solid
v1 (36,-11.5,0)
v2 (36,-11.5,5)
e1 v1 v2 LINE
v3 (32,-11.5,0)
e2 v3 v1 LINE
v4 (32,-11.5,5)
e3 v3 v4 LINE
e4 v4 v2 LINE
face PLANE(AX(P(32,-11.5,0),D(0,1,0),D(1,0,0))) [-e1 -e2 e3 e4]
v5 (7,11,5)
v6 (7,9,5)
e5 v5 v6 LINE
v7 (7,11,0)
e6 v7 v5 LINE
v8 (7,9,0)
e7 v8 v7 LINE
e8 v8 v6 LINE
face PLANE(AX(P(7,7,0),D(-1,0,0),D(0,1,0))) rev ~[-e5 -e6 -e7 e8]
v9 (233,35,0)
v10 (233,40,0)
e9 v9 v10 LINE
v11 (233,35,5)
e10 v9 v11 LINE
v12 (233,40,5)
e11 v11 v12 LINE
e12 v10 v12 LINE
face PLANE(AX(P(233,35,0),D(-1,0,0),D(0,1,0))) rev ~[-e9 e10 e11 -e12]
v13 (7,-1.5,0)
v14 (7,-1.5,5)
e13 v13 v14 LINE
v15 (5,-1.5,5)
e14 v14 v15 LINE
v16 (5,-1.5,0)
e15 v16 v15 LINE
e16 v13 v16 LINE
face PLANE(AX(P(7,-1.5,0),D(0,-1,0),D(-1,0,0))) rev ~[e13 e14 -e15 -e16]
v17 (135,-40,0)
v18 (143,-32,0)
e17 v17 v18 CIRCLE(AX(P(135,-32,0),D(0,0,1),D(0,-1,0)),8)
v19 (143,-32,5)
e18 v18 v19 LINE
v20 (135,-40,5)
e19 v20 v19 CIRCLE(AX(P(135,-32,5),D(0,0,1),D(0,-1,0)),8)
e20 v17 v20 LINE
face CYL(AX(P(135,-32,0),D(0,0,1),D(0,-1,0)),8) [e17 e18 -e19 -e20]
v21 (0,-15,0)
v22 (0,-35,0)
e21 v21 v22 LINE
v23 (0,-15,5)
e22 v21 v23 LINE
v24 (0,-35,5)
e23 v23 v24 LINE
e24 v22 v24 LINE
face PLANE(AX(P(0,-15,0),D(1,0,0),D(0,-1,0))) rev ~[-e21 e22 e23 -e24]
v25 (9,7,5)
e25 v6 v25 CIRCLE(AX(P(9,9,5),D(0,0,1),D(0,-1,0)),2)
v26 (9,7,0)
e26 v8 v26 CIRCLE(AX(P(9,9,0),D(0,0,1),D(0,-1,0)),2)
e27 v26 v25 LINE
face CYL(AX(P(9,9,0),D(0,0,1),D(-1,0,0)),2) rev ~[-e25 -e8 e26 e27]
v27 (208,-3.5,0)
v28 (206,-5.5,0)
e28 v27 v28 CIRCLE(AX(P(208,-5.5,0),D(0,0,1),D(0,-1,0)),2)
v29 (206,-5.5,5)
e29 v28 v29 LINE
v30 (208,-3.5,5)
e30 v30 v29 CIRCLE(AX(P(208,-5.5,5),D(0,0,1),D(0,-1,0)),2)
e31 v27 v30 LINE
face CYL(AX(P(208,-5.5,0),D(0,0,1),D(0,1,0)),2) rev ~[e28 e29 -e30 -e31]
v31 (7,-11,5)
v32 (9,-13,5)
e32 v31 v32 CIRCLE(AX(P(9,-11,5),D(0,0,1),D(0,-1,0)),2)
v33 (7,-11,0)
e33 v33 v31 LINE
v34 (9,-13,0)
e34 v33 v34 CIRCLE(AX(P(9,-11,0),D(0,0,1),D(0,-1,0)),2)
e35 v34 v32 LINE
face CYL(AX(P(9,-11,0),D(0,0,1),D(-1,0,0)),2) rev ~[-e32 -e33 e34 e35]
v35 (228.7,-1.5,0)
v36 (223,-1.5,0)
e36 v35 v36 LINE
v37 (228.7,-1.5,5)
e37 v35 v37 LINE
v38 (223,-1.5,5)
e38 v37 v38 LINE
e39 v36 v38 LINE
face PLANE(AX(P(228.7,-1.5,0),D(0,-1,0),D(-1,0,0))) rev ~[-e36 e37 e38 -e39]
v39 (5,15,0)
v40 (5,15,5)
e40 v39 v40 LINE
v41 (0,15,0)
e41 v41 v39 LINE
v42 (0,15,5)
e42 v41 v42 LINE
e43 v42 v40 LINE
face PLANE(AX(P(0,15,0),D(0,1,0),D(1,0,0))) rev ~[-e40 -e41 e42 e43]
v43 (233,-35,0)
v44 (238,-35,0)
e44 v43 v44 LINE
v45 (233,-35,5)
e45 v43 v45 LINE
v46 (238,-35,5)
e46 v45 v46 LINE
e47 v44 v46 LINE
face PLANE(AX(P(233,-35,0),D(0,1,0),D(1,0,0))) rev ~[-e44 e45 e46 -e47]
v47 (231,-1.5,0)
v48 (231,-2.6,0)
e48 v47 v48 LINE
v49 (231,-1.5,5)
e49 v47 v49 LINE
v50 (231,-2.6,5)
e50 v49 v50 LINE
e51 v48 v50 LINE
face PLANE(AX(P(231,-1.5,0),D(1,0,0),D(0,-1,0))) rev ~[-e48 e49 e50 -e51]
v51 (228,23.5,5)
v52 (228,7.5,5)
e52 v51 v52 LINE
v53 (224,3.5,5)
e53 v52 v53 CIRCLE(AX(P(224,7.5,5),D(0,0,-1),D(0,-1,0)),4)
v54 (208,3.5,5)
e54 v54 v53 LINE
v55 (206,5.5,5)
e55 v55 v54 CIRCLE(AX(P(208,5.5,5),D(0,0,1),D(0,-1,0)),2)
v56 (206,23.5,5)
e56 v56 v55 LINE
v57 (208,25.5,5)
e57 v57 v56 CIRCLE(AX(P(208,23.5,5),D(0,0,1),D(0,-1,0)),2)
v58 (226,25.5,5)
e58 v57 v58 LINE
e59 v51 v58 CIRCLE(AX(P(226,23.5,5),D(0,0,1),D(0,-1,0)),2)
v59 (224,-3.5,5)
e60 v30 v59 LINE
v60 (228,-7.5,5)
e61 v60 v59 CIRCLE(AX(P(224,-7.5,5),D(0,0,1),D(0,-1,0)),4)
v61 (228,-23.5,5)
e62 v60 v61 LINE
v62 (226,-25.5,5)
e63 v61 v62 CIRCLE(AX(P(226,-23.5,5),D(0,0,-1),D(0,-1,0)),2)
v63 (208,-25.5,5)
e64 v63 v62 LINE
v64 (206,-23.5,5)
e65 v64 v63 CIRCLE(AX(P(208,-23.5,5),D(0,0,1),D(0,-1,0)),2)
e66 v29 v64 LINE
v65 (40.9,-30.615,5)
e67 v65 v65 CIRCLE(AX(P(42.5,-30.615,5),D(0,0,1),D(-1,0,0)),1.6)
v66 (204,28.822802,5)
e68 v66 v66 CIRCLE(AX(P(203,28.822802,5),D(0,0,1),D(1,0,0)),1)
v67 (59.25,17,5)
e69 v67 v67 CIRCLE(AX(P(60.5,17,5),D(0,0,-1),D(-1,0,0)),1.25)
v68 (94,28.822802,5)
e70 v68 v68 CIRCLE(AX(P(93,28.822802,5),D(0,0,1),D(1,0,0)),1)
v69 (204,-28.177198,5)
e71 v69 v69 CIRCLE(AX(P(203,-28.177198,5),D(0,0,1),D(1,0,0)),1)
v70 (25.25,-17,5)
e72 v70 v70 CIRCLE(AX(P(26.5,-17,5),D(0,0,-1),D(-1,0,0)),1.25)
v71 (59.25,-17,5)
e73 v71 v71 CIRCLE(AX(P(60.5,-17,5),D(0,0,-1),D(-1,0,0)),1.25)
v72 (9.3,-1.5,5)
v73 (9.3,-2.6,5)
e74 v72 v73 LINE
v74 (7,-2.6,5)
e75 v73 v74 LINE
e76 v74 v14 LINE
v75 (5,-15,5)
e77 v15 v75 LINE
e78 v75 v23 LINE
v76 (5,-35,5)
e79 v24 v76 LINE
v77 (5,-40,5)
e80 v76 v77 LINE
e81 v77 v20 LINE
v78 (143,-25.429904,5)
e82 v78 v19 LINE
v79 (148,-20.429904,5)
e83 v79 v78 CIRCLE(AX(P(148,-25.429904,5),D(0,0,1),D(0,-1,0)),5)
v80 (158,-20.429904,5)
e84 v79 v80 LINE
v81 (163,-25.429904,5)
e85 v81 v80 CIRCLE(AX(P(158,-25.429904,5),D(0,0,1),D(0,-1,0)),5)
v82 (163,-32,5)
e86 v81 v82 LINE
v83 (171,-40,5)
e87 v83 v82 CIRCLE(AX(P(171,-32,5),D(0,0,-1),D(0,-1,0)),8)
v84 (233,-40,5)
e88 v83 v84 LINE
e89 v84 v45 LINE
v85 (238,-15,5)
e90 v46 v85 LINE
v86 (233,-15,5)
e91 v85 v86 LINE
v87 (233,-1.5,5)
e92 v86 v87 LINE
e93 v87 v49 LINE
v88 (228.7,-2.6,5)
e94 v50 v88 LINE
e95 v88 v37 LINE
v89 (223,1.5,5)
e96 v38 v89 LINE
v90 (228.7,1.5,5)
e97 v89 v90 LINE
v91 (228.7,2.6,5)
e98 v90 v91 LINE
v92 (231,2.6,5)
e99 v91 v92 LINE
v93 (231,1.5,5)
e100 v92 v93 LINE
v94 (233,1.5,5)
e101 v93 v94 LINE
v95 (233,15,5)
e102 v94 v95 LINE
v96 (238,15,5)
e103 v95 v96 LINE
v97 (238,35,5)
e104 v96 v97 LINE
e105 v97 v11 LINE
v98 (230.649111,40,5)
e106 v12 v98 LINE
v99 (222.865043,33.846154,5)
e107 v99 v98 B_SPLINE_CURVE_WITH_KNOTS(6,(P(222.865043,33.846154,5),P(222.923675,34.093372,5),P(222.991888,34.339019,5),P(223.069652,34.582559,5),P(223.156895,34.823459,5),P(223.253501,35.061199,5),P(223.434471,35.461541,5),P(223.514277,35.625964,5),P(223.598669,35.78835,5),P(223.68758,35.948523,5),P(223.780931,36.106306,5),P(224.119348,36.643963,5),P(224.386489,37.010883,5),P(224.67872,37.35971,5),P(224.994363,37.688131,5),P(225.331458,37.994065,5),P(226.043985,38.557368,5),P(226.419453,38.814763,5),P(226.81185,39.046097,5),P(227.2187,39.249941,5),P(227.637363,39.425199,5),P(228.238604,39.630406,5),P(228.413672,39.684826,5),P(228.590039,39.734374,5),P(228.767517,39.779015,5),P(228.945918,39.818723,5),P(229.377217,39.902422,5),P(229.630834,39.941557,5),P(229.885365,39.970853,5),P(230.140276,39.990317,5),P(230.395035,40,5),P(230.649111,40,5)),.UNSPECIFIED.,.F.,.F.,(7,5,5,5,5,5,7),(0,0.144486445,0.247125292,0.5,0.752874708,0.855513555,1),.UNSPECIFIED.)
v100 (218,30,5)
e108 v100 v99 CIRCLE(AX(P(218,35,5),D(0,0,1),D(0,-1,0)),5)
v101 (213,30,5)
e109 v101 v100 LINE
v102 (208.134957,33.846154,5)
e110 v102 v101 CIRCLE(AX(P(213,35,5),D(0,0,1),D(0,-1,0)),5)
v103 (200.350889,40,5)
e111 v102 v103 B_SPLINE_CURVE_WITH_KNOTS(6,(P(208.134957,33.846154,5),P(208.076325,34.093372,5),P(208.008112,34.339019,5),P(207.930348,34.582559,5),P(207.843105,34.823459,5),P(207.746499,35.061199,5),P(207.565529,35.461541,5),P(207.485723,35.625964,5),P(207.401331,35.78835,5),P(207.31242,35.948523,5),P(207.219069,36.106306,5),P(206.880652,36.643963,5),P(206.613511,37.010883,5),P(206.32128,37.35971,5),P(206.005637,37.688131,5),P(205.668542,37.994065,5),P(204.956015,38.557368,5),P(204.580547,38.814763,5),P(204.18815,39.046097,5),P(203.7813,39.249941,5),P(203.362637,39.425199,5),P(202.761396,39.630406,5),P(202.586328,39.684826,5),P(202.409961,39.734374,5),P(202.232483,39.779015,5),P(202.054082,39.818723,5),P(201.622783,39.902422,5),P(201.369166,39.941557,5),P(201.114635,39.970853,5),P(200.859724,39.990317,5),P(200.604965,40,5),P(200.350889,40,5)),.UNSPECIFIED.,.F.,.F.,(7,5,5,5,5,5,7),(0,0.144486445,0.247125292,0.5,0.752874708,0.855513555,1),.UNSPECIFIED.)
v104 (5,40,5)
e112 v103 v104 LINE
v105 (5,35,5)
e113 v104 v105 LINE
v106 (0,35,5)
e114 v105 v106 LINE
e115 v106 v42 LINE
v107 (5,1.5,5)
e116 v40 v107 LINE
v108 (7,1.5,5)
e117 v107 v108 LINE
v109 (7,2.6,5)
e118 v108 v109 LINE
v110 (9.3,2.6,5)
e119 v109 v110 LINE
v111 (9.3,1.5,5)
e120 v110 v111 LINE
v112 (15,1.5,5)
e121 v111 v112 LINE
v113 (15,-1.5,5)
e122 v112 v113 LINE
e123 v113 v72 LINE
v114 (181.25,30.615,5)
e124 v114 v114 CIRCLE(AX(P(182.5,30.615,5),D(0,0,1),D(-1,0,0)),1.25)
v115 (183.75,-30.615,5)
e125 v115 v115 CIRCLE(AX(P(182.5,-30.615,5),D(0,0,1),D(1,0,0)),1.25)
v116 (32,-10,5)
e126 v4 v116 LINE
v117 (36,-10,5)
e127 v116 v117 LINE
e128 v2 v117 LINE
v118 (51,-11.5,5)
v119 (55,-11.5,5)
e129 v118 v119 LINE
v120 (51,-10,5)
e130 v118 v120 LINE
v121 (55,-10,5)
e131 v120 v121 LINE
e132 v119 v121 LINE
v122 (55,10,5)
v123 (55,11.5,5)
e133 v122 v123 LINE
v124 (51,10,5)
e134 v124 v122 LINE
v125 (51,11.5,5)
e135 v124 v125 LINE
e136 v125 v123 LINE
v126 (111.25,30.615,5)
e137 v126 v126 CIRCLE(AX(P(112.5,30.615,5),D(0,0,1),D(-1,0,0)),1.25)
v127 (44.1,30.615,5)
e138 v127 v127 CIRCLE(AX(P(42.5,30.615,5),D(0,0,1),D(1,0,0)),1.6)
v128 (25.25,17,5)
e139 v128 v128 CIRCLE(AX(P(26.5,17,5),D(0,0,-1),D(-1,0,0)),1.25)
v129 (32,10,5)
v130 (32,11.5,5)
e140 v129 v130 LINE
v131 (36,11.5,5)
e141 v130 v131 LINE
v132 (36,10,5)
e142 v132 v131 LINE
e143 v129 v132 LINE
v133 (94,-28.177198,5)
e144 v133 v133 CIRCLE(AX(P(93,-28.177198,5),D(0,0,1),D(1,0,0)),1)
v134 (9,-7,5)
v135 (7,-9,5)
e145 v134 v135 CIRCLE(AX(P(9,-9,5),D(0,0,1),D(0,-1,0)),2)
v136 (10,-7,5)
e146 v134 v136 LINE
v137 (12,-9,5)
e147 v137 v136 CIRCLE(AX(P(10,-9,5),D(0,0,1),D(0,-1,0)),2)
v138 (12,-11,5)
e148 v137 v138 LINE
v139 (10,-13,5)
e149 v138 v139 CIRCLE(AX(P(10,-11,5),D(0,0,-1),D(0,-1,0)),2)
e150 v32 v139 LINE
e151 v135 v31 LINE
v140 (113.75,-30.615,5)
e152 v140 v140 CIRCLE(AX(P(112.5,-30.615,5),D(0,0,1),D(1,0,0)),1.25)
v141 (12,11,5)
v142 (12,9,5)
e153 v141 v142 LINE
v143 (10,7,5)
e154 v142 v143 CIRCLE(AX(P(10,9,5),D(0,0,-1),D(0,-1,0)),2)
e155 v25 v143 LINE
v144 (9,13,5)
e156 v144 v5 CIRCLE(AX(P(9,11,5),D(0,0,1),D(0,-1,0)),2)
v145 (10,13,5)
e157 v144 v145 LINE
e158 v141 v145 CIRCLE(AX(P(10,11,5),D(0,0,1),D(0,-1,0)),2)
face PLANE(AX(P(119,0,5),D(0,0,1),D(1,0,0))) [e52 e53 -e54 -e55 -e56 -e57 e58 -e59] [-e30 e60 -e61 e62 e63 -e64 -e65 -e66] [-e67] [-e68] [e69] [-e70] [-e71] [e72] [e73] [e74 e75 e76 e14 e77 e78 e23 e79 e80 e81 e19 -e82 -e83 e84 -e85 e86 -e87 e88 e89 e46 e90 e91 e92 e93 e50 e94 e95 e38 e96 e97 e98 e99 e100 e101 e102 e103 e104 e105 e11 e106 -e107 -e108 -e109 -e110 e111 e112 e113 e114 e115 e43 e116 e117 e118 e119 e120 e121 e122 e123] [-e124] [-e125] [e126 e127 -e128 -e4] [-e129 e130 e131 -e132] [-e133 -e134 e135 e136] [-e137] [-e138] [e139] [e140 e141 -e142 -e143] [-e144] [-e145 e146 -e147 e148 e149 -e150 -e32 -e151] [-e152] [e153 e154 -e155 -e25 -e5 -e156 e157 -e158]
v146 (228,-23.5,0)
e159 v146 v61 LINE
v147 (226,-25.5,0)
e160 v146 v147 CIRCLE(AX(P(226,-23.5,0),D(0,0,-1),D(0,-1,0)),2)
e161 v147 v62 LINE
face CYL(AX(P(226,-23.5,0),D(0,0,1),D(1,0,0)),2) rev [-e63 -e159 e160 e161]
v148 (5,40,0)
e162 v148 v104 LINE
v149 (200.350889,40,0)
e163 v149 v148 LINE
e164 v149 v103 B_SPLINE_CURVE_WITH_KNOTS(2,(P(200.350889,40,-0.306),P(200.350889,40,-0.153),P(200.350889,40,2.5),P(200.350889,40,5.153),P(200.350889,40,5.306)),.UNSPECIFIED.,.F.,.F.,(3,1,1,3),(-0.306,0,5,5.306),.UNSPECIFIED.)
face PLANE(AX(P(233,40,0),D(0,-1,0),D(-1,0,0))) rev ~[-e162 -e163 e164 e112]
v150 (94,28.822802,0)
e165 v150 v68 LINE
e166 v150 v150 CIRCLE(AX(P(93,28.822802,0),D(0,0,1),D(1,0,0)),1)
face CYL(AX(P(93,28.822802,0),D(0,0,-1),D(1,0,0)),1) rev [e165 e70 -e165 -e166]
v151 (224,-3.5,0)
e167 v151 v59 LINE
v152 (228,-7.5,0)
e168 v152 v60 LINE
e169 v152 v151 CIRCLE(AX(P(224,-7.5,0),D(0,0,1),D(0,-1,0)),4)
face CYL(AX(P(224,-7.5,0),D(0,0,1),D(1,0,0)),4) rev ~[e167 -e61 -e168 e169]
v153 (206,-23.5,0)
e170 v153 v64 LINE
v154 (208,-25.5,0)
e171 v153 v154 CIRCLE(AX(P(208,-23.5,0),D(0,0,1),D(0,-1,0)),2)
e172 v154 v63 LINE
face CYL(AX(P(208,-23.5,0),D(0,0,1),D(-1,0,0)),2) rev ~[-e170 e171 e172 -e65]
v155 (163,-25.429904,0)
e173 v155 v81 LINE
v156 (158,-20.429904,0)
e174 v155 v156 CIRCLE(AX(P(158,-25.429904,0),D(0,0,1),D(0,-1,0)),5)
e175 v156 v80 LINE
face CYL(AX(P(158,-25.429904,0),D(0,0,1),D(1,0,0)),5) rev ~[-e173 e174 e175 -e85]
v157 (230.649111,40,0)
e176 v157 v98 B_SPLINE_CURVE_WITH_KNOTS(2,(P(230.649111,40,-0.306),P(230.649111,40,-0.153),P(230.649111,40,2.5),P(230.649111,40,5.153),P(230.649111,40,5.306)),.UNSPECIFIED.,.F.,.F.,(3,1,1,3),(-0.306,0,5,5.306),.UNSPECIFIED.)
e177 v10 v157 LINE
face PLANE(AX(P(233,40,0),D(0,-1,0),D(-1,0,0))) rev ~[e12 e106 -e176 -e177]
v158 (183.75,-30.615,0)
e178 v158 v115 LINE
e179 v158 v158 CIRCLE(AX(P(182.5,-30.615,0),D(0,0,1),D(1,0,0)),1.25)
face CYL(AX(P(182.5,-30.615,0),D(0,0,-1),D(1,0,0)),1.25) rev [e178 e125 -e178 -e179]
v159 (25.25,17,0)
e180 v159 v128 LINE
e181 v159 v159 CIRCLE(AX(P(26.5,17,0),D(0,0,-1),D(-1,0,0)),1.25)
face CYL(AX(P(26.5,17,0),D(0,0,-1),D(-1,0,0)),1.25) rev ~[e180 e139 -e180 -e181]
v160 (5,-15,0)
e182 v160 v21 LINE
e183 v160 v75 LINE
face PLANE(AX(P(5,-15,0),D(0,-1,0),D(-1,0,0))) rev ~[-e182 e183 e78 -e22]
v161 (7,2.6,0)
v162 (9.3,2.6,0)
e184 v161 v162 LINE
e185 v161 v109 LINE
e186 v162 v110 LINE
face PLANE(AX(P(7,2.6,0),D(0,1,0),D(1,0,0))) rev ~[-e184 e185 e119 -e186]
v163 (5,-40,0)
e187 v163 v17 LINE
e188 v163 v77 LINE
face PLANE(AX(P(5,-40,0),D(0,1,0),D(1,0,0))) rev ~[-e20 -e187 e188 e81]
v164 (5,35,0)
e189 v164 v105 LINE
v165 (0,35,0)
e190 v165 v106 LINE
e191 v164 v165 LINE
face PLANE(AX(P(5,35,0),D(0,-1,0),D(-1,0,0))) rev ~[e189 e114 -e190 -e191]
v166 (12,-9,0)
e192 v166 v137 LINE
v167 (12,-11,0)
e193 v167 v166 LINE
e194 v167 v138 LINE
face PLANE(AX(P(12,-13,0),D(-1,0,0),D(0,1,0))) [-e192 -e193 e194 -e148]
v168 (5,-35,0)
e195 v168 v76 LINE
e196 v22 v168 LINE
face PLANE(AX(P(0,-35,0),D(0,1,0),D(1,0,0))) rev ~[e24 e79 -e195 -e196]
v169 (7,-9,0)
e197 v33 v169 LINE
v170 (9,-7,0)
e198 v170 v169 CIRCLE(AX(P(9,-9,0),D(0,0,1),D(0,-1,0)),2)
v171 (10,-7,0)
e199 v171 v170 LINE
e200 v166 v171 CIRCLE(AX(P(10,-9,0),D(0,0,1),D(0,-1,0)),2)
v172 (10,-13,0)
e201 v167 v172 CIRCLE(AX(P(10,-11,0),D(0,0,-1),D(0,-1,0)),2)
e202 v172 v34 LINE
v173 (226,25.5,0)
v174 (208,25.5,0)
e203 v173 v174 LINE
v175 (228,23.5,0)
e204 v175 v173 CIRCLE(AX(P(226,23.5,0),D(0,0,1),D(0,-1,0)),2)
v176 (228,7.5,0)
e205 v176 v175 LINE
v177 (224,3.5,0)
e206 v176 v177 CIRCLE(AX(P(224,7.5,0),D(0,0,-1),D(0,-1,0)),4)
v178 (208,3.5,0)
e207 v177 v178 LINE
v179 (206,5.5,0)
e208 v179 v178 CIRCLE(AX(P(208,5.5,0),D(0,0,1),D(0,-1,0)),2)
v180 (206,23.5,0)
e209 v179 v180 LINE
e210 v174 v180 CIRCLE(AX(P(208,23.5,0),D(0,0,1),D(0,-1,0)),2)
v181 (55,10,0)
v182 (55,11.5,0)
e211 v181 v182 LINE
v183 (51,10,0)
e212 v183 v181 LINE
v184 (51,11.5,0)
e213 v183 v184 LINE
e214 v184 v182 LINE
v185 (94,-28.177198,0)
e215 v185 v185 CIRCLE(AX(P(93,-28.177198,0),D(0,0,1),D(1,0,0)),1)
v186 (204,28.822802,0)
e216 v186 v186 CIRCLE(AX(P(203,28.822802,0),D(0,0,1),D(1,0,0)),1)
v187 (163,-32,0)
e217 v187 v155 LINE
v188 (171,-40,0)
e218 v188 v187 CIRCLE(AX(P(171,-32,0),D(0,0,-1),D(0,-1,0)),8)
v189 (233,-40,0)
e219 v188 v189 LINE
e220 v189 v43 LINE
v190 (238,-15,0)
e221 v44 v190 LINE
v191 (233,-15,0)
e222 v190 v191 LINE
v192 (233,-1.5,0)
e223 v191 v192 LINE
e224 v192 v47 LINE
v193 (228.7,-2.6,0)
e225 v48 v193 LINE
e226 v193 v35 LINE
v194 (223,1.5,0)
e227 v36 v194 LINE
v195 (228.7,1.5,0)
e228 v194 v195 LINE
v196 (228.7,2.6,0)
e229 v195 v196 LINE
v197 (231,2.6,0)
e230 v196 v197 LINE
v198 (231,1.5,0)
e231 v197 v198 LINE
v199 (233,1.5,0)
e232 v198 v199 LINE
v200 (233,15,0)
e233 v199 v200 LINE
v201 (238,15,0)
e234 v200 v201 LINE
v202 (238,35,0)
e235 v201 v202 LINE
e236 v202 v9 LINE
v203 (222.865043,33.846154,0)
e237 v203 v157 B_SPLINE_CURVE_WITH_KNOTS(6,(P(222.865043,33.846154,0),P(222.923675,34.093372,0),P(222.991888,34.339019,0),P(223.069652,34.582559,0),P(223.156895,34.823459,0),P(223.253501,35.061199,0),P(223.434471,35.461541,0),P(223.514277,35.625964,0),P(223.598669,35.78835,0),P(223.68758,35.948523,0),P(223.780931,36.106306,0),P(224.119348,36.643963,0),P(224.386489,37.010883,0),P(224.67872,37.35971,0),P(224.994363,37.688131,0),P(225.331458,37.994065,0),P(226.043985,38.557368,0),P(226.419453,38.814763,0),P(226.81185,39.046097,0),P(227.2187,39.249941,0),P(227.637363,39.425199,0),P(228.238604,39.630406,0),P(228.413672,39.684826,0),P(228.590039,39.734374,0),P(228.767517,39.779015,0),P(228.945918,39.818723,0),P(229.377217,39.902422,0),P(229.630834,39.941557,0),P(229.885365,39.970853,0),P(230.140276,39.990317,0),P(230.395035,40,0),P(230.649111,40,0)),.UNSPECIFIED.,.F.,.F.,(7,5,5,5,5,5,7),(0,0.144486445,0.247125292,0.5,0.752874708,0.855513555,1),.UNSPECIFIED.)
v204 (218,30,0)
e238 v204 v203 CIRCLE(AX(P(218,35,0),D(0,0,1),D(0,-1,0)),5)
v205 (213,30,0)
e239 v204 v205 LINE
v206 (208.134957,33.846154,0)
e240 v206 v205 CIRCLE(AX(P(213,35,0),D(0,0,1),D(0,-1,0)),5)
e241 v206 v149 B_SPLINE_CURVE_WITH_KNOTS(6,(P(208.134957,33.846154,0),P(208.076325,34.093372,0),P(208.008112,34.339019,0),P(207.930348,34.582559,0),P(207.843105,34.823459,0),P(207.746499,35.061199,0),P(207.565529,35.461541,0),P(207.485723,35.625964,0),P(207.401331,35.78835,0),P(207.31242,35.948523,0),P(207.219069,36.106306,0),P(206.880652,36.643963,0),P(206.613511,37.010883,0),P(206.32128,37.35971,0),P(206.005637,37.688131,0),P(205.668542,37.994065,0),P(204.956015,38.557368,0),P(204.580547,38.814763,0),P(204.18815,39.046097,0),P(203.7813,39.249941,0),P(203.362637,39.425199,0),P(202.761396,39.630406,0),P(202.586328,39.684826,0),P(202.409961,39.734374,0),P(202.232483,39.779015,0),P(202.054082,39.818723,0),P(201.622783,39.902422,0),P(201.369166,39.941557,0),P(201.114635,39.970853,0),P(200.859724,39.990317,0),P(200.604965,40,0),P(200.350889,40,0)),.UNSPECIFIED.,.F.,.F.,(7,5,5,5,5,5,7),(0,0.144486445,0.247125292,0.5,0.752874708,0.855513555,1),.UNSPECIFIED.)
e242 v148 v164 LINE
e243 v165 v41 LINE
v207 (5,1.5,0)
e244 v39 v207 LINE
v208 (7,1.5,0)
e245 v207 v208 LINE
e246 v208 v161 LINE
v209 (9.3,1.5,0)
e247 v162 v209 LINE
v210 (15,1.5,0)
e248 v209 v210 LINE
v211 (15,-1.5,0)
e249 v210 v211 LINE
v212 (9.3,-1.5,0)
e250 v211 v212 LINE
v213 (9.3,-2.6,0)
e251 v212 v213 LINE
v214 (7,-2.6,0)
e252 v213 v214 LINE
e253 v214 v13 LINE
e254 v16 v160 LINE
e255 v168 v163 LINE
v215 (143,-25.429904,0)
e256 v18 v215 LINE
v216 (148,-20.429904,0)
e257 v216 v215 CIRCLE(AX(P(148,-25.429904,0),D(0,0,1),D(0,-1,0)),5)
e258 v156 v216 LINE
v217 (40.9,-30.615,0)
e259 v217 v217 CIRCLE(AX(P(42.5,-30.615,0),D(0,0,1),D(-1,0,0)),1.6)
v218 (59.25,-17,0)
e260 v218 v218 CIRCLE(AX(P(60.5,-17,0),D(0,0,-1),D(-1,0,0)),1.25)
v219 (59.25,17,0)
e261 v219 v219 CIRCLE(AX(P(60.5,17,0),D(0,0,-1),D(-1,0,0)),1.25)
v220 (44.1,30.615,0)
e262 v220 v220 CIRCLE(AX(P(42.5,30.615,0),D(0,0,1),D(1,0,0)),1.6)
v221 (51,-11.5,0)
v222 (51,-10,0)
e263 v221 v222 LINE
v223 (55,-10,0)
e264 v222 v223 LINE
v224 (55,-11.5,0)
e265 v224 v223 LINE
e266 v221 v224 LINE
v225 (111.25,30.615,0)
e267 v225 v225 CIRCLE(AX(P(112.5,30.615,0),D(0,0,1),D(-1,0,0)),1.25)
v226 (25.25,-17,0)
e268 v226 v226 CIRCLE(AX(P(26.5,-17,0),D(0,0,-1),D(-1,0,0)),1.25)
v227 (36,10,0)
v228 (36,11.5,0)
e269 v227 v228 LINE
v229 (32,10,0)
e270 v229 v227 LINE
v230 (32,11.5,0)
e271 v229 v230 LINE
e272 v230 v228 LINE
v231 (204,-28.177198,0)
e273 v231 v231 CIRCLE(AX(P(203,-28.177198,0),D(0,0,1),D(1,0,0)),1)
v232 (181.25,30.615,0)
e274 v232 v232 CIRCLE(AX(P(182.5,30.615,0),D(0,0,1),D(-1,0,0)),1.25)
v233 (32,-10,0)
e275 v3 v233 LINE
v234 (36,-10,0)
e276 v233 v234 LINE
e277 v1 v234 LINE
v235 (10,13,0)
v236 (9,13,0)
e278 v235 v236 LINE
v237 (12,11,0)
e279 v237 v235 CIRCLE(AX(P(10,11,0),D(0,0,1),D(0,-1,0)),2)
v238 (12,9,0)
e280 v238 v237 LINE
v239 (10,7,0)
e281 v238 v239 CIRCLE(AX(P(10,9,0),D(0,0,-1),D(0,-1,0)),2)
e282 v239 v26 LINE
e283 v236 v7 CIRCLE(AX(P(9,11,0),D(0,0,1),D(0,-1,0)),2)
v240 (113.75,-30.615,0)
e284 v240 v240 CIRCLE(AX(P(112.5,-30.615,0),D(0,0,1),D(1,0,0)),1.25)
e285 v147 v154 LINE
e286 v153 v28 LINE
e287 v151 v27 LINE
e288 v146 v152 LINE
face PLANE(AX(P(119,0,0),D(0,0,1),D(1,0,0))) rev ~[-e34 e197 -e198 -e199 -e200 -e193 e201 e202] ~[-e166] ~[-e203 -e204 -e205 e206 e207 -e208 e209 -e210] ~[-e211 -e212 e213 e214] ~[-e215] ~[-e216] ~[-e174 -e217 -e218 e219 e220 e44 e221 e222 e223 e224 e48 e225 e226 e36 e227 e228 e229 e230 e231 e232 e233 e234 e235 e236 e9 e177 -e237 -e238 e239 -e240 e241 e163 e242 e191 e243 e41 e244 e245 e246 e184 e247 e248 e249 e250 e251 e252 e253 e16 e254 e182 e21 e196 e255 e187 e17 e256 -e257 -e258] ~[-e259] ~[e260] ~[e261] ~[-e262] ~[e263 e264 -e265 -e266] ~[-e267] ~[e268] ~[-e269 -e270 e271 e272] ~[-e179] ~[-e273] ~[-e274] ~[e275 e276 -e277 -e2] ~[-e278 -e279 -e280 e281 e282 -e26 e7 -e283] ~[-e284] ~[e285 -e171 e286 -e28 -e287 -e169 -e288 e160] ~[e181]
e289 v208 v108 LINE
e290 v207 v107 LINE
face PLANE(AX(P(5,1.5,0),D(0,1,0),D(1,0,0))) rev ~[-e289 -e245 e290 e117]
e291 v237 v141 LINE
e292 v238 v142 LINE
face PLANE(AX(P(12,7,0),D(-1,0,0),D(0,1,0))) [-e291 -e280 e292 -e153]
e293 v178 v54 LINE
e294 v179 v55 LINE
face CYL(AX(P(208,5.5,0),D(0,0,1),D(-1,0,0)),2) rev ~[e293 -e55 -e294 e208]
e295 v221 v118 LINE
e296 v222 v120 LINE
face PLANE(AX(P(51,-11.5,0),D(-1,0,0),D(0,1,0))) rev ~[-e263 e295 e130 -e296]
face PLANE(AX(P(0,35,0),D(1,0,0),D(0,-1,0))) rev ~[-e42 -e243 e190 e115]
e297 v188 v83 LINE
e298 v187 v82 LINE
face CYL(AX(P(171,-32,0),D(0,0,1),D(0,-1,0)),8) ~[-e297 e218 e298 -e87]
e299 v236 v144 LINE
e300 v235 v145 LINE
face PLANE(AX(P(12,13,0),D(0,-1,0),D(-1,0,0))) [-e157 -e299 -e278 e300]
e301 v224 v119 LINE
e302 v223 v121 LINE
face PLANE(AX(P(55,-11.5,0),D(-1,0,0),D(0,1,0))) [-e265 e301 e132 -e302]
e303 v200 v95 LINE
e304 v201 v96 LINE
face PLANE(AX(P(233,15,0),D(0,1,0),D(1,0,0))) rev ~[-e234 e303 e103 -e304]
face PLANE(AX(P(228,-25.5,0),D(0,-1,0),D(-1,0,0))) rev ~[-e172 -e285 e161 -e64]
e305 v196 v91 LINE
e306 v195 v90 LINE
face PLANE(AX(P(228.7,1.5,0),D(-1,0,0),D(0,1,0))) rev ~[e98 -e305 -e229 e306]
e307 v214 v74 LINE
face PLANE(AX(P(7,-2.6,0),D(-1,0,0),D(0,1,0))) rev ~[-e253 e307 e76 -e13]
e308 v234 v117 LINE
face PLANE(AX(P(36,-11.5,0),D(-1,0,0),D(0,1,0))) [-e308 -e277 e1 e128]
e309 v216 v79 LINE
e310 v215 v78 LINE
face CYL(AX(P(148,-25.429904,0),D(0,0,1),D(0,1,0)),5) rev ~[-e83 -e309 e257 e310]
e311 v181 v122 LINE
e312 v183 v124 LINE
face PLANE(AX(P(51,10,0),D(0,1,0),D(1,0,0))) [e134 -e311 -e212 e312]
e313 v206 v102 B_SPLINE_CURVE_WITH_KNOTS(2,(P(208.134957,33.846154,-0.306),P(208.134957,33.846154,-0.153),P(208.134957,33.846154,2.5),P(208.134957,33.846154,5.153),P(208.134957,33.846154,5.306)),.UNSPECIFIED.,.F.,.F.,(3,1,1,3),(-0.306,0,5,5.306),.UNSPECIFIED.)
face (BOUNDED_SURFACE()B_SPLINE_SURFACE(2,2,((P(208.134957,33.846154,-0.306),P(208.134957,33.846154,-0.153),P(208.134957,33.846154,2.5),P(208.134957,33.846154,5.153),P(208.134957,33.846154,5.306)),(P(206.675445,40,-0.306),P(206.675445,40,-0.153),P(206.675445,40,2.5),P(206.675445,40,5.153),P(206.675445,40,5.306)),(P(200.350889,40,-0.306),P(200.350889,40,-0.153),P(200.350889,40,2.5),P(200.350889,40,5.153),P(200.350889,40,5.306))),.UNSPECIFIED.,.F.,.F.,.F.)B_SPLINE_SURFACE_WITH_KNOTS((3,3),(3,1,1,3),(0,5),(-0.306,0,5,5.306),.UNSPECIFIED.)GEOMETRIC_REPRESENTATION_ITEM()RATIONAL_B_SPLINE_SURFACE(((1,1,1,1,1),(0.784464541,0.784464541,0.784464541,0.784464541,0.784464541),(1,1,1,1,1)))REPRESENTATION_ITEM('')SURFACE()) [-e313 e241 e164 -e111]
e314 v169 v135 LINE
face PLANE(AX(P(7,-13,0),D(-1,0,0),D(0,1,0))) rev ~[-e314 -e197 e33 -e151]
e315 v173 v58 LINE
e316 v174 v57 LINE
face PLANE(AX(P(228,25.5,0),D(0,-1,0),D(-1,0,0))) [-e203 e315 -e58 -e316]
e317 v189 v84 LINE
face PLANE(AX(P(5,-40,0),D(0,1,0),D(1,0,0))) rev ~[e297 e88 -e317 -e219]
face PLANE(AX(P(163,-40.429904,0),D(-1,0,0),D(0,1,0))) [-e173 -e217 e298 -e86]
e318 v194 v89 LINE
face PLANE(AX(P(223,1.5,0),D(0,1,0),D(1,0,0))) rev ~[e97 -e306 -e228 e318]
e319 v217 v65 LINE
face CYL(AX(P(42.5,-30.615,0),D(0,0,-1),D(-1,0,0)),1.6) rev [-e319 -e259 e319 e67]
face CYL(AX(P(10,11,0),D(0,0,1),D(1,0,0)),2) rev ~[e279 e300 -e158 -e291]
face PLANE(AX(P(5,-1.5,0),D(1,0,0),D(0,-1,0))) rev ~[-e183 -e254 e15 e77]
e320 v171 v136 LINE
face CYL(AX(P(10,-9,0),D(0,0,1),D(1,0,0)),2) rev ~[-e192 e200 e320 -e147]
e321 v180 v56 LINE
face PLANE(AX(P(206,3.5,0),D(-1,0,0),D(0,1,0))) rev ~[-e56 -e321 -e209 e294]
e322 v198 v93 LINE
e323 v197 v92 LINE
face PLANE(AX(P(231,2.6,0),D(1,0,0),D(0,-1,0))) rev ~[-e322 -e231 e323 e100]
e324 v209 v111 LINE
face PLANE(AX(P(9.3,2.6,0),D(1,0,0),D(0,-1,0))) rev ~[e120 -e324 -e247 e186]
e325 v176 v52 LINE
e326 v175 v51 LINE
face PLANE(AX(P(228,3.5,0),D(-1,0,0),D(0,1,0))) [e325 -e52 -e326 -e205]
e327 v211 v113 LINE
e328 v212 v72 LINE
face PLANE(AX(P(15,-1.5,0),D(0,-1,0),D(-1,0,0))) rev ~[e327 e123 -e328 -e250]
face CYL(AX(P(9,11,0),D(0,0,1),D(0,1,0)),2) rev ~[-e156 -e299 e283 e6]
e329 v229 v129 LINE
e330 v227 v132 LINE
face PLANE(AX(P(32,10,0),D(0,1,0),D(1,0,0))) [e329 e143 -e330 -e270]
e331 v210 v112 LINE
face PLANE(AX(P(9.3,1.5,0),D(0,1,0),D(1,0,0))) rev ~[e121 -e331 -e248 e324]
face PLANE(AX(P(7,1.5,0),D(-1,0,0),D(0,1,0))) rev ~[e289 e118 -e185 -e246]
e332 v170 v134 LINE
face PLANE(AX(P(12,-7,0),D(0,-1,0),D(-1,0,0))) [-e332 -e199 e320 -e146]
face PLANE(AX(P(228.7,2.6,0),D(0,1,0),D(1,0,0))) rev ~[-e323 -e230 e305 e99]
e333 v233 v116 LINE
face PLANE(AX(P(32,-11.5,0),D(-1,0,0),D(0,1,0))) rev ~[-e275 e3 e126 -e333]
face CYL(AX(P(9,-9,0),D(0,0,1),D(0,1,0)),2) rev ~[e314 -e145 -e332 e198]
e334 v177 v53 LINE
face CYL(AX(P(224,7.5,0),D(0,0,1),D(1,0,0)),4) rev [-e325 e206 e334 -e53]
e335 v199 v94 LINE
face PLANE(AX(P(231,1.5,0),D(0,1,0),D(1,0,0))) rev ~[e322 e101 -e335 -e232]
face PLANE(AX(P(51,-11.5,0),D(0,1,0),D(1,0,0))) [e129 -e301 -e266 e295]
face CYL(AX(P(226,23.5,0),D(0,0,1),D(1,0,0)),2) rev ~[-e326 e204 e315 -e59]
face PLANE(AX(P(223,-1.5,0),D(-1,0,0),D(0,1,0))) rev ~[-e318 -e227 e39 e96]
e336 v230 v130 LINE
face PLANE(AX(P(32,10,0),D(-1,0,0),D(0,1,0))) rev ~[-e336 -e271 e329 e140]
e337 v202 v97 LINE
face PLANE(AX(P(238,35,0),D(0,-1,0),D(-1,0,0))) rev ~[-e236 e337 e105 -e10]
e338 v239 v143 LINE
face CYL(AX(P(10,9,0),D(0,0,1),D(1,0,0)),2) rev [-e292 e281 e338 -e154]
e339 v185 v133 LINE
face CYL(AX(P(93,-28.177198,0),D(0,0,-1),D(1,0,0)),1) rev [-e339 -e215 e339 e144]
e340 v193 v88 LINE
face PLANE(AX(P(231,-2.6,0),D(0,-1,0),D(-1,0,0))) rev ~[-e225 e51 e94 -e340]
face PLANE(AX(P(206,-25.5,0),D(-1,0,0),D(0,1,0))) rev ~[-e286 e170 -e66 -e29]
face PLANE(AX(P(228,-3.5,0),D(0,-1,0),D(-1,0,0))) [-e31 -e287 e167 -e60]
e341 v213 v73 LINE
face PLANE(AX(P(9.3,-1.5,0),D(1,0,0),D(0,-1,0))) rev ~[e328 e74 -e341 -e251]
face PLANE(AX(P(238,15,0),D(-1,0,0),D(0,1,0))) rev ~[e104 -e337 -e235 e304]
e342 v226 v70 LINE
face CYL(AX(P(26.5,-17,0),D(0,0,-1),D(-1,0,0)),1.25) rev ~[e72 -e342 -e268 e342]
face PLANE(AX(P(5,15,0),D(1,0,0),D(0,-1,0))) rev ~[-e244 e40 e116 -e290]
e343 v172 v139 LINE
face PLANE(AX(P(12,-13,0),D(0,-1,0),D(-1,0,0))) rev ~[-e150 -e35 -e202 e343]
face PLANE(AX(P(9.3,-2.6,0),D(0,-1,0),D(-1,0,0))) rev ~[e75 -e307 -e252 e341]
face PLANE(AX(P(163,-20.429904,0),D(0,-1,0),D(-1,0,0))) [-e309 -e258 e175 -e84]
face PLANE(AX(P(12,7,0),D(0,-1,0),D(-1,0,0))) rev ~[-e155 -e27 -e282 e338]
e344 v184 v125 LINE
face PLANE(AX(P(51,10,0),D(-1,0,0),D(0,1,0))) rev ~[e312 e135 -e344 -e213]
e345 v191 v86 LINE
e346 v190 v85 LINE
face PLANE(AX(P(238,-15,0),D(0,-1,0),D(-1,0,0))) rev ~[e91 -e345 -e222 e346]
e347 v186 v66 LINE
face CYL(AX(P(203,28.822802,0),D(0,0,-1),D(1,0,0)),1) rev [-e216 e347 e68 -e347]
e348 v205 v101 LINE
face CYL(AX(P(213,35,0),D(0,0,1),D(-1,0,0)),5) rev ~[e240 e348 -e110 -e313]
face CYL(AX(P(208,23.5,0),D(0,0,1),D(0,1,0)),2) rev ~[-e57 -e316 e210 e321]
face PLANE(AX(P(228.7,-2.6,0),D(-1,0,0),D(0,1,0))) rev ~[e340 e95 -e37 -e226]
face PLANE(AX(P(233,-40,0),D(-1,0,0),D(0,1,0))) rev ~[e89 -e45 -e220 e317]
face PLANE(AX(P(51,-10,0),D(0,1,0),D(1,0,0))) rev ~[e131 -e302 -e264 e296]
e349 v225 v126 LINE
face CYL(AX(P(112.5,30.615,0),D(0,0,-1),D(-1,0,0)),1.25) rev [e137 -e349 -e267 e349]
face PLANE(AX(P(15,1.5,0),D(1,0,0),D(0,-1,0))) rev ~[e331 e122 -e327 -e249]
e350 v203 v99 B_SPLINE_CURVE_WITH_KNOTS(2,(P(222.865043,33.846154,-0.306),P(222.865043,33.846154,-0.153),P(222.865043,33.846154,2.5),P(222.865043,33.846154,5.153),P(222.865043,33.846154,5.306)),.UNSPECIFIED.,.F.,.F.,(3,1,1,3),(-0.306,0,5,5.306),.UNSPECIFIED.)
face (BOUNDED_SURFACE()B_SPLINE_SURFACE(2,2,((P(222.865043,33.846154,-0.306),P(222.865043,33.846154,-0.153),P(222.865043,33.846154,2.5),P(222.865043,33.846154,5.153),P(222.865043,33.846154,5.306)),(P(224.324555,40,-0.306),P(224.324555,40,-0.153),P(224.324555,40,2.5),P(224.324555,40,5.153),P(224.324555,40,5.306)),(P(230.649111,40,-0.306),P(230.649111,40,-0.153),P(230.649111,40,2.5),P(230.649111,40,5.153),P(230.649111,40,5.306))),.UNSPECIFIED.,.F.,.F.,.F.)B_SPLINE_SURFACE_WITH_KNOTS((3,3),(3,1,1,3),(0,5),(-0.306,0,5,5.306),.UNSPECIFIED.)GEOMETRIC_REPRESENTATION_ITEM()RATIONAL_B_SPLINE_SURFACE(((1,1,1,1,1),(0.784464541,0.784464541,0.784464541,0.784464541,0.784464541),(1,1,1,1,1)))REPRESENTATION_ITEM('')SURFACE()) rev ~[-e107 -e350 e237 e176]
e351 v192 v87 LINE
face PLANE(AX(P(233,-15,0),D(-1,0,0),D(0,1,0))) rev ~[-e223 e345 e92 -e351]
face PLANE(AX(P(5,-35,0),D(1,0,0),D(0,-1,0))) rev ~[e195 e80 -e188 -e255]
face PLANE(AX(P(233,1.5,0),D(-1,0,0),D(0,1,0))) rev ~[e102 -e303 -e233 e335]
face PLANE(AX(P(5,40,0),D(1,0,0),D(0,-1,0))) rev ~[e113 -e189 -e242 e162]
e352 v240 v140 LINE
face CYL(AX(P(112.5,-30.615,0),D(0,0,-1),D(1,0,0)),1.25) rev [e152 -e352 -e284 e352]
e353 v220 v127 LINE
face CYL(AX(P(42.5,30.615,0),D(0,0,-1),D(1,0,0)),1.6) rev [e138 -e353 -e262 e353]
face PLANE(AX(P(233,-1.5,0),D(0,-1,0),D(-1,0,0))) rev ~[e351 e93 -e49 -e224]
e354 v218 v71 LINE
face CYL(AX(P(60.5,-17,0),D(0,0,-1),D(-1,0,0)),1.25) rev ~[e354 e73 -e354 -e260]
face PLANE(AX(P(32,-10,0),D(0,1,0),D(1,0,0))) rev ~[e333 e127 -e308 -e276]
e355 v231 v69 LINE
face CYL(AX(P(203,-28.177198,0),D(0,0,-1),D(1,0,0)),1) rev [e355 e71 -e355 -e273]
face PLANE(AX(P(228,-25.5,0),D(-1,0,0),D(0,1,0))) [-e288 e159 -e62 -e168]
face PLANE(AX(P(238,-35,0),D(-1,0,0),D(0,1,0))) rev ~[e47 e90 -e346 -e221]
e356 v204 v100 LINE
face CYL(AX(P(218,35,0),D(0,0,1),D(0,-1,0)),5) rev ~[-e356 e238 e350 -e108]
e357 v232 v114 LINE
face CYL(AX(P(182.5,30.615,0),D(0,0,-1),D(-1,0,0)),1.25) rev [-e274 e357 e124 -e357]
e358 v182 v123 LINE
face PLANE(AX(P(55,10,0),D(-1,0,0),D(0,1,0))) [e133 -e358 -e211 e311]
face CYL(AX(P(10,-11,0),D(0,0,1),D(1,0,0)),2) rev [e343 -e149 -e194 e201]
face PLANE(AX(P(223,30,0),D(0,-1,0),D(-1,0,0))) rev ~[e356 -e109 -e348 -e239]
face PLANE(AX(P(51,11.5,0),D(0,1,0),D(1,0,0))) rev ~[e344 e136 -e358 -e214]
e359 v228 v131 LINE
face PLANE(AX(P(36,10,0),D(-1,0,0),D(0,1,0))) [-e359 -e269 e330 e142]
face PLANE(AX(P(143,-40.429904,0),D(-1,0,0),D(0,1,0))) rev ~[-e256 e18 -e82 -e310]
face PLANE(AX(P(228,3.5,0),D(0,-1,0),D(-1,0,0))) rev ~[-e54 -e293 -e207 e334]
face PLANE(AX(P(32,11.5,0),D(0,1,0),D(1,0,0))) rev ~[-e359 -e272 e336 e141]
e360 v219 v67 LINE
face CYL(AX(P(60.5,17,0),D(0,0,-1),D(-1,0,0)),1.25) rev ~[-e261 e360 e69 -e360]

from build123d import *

# Parameters (mm, degrees)
ESQUISSE1_R        = 1
ESQUISSE1_R_2      = 1.25
ESQUISSE1_R_3      = 1.6
ESQUISSE1_W        = 4
ESQUISSE1_H        = 1.5
BOSS_EXTRU_1_DEPTH = 5
SKETCH1_R          = 1.25
SKETCH1_W          = 15
SKETCH1_H          = 10
SKETCH1_W_2        = 5
SKETCH1_H_2        = 6
SKETCH1_W_3        = 20
SKETCH1_H_3        = 20
SKETCH1_W_4        = 22
SKETCH1_H_4        = 22
CUT_EXTRUDE1_DEPTH = 10
FILLET2_R          = 5
FILLET3_R          = 2
CONG_1_R           = 8
CONG_2_R           = 2
CONG_3_R           = 4


with BuildPart() as part:
    # Esquisse1 → Boss.-Extru.1 (new body)
    with BuildSketch(Plane.XY):
        Polygon((0, 35), (0, 15), (5, 15), (5, 1.5), (7, 1.5), (7, 2.6), (9.3, 2.6), (9.3, 1.5), (15, 1.5), (15, -1.5), (9.3, -1.5), (9.3, -2.6), (7, -2.6), (7, -1.5), (5, -1.5), (5, -15), (0, -15), (0, -35), (5, -35), (5, -40), (233, -40), (233, -35), (238, -35), (238, -15), (233, -15), (233, -1.5), (231, -1.5), (231, -2.6), (228.7, -2.6), (228.7, -1.5), (223, -1.5), (223, 1.5), (228.7, 1.5), (228.7, 2.6), (231, 2.6), (231, 1.5), (233, 1.5), (233, 15), (238, 15), (238, 35), (233, 35), (233, 40), (5, 40), (5, 35), align=None)
        with Locations((203, -28.177197641)):
            Circle(ESQUISSE1_R, mode=Mode.SUBTRACT)
        with Locations((203, 28.822802359)):
            Circle(ESQUISSE1_R, mode=Mode.SUBTRACT)
        with Locations((93, -28.177197641)):
            Circle(ESQUISSE1_R, mode=Mode.SUBTRACT)
        with Locations((93, 28.822802359)):
            Circle(ESQUISSE1_R, mode=Mode.SUBTRACT)
        with Locations((112.5, -30.615)):
            Circle(ESQUISSE1_R_2, mode=Mode.SUBTRACT)
        with Locations(Location((42.5, -30.615, 0), (0, 0, 180))):
            Circle(ESQUISSE1_R_3, mode=Mode.SUBTRACT)
        with Locations((182.5, -30.615)):
            Circle(ESQUISSE1_R_2, mode=Mode.SUBTRACT)
        with Locations((42.5, 30.615)):
            Circle(ESQUISSE1_R_3, mode=Mode.SUBTRACT)
        with Locations(Location((182.5, 30.615, 0), (0, 0, 180))):
            Circle(ESQUISSE1_R_2, mode=Mode.SUBTRACT)
        with Locations(Location((112.5, 30.615, 0), (0, 0, 180))):
            Circle(ESQUISSE1_R_2, mode=Mode.SUBTRACT)
        with Locations((34, -10.75)):
            Rectangle(ESQUISSE1_W, ESQUISSE1_H, mode=Mode.SUBTRACT)
        with Locations((34, 10.75)):
            Rectangle(ESQUISSE1_W, ESQUISSE1_H, mode=Mode.SUBTRACT)
        with Locations((53, 10.75)):
            Rectangle(ESQUISSE1_W, ESQUISSE1_H, mode=Mode.SUBTRACT)
        with Locations((53, -10.75)):
            Rectangle(ESQUISSE1_W, ESQUISSE1_H, mode=Mode.SUBTRACT)
    extrude(amount=BOSS_EXTRU_1_DEPTH)

    # Sketch1 → Cut-Extrude1 (cut)
    with BuildSketch(Plane(origin=(0, 0, 0), x_dir=(-1, 0, 0), z_dir=(0, 0, -1))):
        with Locations((-60.5, 17)):
            Circle(SKETCH1_R)
        with Locations((-60.5, -17)):
            Circle(SKETCH1_R)
        with Locations((-26.5, 17)):
            Circle(SKETCH1_R)
        with Locations((-26.5, -17)):
            Circle(SKETCH1_R)
        with Locations((-215.5, 35)):
            Rectangle(SKETCH1_W, SKETCH1_H)
        with Locations((-9.5, 10)):
            Rectangle(SKETCH1_W_2, SKETCH1_H_2)
        with Locations((-153, -30.429903646)):
            Rectangle(SKETCH1_W_3, SKETCH1_H_3)
        with Locations((-9.5, -10)):
            Rectangle(SKETCH1_W_2, SKETCH1_H_2)
        with Locations((-217, 14.5)):
            Rectangle(SKETCH1_W_4, SKETCH1_H_4)
        with Locations((-217, -14.5)):
            Rectangle(SKETCH1_W_4, SKETCH1_H_4)
    extrude(amount=-CUT_EXTRUDE1_DEPTH, mode=Mode.SUBTRACT)

    # Fillet2
    fillet2_edges = [part.edges().sort_by_distance(p)[0] for p in [
        (208, 30, 2.5),
        (223, 30, 2.5),
        (163, -20.429903646, 2.5),
        (143, -20.429903646, 2.5),
    ]]
    fillet(fillet2_edges, radius=FILLET2_R)

    # Fillet3
    fillet3_edges = [part.edges().sort_by_distance(p)[0] for p in [
        (228, -25.5, 2.5),
        (206, -3.5, 2.5),
        (206, -25.5, 2.5),
        (228, 25.5, 2.5),
        (206, 25.5, 2.5),
        (206, 3.5, 2.5),
    ]]
    fillet(fillet3_edges, radius=FILLET3_R)

    # Congé1
    cong_1_edges = [part.edges().sort_by_distance(p)[0] for p in [
        (223, 40, 2.5),
        (208, 40, 2.5),
        (163, -40, 2.5),
        (143, -40, 2.5),
    ]]
    fillet(cong_1_edges, radius=CONG_1_R)

    # Congé2
    cong_2_edges = [part.edges().sort_by_distance(p)[0] for p in [
        (12, 7, 2.5),
        (12, 13, 2.5),
        (7, 13, 2.5),
        (7, 7, 2.5),
        (7, -13, 2.5),
        (12, -13, 2.5),
        (12, -7, 2.5),
        (7, -7, 2.5),
    ]]
    fillet(cong_2_edges, radius=CONG_2_R)

    # Congé3
    cong_3_edges = [part.edges().sort_by_distance(p)[0] for p in [
        (228, -3.5, 2.5),
        (228, 3.5, 2.5),
    ]]
    fillet(cong_3_edges, radius=CONG_3_R)


solid = part.part
